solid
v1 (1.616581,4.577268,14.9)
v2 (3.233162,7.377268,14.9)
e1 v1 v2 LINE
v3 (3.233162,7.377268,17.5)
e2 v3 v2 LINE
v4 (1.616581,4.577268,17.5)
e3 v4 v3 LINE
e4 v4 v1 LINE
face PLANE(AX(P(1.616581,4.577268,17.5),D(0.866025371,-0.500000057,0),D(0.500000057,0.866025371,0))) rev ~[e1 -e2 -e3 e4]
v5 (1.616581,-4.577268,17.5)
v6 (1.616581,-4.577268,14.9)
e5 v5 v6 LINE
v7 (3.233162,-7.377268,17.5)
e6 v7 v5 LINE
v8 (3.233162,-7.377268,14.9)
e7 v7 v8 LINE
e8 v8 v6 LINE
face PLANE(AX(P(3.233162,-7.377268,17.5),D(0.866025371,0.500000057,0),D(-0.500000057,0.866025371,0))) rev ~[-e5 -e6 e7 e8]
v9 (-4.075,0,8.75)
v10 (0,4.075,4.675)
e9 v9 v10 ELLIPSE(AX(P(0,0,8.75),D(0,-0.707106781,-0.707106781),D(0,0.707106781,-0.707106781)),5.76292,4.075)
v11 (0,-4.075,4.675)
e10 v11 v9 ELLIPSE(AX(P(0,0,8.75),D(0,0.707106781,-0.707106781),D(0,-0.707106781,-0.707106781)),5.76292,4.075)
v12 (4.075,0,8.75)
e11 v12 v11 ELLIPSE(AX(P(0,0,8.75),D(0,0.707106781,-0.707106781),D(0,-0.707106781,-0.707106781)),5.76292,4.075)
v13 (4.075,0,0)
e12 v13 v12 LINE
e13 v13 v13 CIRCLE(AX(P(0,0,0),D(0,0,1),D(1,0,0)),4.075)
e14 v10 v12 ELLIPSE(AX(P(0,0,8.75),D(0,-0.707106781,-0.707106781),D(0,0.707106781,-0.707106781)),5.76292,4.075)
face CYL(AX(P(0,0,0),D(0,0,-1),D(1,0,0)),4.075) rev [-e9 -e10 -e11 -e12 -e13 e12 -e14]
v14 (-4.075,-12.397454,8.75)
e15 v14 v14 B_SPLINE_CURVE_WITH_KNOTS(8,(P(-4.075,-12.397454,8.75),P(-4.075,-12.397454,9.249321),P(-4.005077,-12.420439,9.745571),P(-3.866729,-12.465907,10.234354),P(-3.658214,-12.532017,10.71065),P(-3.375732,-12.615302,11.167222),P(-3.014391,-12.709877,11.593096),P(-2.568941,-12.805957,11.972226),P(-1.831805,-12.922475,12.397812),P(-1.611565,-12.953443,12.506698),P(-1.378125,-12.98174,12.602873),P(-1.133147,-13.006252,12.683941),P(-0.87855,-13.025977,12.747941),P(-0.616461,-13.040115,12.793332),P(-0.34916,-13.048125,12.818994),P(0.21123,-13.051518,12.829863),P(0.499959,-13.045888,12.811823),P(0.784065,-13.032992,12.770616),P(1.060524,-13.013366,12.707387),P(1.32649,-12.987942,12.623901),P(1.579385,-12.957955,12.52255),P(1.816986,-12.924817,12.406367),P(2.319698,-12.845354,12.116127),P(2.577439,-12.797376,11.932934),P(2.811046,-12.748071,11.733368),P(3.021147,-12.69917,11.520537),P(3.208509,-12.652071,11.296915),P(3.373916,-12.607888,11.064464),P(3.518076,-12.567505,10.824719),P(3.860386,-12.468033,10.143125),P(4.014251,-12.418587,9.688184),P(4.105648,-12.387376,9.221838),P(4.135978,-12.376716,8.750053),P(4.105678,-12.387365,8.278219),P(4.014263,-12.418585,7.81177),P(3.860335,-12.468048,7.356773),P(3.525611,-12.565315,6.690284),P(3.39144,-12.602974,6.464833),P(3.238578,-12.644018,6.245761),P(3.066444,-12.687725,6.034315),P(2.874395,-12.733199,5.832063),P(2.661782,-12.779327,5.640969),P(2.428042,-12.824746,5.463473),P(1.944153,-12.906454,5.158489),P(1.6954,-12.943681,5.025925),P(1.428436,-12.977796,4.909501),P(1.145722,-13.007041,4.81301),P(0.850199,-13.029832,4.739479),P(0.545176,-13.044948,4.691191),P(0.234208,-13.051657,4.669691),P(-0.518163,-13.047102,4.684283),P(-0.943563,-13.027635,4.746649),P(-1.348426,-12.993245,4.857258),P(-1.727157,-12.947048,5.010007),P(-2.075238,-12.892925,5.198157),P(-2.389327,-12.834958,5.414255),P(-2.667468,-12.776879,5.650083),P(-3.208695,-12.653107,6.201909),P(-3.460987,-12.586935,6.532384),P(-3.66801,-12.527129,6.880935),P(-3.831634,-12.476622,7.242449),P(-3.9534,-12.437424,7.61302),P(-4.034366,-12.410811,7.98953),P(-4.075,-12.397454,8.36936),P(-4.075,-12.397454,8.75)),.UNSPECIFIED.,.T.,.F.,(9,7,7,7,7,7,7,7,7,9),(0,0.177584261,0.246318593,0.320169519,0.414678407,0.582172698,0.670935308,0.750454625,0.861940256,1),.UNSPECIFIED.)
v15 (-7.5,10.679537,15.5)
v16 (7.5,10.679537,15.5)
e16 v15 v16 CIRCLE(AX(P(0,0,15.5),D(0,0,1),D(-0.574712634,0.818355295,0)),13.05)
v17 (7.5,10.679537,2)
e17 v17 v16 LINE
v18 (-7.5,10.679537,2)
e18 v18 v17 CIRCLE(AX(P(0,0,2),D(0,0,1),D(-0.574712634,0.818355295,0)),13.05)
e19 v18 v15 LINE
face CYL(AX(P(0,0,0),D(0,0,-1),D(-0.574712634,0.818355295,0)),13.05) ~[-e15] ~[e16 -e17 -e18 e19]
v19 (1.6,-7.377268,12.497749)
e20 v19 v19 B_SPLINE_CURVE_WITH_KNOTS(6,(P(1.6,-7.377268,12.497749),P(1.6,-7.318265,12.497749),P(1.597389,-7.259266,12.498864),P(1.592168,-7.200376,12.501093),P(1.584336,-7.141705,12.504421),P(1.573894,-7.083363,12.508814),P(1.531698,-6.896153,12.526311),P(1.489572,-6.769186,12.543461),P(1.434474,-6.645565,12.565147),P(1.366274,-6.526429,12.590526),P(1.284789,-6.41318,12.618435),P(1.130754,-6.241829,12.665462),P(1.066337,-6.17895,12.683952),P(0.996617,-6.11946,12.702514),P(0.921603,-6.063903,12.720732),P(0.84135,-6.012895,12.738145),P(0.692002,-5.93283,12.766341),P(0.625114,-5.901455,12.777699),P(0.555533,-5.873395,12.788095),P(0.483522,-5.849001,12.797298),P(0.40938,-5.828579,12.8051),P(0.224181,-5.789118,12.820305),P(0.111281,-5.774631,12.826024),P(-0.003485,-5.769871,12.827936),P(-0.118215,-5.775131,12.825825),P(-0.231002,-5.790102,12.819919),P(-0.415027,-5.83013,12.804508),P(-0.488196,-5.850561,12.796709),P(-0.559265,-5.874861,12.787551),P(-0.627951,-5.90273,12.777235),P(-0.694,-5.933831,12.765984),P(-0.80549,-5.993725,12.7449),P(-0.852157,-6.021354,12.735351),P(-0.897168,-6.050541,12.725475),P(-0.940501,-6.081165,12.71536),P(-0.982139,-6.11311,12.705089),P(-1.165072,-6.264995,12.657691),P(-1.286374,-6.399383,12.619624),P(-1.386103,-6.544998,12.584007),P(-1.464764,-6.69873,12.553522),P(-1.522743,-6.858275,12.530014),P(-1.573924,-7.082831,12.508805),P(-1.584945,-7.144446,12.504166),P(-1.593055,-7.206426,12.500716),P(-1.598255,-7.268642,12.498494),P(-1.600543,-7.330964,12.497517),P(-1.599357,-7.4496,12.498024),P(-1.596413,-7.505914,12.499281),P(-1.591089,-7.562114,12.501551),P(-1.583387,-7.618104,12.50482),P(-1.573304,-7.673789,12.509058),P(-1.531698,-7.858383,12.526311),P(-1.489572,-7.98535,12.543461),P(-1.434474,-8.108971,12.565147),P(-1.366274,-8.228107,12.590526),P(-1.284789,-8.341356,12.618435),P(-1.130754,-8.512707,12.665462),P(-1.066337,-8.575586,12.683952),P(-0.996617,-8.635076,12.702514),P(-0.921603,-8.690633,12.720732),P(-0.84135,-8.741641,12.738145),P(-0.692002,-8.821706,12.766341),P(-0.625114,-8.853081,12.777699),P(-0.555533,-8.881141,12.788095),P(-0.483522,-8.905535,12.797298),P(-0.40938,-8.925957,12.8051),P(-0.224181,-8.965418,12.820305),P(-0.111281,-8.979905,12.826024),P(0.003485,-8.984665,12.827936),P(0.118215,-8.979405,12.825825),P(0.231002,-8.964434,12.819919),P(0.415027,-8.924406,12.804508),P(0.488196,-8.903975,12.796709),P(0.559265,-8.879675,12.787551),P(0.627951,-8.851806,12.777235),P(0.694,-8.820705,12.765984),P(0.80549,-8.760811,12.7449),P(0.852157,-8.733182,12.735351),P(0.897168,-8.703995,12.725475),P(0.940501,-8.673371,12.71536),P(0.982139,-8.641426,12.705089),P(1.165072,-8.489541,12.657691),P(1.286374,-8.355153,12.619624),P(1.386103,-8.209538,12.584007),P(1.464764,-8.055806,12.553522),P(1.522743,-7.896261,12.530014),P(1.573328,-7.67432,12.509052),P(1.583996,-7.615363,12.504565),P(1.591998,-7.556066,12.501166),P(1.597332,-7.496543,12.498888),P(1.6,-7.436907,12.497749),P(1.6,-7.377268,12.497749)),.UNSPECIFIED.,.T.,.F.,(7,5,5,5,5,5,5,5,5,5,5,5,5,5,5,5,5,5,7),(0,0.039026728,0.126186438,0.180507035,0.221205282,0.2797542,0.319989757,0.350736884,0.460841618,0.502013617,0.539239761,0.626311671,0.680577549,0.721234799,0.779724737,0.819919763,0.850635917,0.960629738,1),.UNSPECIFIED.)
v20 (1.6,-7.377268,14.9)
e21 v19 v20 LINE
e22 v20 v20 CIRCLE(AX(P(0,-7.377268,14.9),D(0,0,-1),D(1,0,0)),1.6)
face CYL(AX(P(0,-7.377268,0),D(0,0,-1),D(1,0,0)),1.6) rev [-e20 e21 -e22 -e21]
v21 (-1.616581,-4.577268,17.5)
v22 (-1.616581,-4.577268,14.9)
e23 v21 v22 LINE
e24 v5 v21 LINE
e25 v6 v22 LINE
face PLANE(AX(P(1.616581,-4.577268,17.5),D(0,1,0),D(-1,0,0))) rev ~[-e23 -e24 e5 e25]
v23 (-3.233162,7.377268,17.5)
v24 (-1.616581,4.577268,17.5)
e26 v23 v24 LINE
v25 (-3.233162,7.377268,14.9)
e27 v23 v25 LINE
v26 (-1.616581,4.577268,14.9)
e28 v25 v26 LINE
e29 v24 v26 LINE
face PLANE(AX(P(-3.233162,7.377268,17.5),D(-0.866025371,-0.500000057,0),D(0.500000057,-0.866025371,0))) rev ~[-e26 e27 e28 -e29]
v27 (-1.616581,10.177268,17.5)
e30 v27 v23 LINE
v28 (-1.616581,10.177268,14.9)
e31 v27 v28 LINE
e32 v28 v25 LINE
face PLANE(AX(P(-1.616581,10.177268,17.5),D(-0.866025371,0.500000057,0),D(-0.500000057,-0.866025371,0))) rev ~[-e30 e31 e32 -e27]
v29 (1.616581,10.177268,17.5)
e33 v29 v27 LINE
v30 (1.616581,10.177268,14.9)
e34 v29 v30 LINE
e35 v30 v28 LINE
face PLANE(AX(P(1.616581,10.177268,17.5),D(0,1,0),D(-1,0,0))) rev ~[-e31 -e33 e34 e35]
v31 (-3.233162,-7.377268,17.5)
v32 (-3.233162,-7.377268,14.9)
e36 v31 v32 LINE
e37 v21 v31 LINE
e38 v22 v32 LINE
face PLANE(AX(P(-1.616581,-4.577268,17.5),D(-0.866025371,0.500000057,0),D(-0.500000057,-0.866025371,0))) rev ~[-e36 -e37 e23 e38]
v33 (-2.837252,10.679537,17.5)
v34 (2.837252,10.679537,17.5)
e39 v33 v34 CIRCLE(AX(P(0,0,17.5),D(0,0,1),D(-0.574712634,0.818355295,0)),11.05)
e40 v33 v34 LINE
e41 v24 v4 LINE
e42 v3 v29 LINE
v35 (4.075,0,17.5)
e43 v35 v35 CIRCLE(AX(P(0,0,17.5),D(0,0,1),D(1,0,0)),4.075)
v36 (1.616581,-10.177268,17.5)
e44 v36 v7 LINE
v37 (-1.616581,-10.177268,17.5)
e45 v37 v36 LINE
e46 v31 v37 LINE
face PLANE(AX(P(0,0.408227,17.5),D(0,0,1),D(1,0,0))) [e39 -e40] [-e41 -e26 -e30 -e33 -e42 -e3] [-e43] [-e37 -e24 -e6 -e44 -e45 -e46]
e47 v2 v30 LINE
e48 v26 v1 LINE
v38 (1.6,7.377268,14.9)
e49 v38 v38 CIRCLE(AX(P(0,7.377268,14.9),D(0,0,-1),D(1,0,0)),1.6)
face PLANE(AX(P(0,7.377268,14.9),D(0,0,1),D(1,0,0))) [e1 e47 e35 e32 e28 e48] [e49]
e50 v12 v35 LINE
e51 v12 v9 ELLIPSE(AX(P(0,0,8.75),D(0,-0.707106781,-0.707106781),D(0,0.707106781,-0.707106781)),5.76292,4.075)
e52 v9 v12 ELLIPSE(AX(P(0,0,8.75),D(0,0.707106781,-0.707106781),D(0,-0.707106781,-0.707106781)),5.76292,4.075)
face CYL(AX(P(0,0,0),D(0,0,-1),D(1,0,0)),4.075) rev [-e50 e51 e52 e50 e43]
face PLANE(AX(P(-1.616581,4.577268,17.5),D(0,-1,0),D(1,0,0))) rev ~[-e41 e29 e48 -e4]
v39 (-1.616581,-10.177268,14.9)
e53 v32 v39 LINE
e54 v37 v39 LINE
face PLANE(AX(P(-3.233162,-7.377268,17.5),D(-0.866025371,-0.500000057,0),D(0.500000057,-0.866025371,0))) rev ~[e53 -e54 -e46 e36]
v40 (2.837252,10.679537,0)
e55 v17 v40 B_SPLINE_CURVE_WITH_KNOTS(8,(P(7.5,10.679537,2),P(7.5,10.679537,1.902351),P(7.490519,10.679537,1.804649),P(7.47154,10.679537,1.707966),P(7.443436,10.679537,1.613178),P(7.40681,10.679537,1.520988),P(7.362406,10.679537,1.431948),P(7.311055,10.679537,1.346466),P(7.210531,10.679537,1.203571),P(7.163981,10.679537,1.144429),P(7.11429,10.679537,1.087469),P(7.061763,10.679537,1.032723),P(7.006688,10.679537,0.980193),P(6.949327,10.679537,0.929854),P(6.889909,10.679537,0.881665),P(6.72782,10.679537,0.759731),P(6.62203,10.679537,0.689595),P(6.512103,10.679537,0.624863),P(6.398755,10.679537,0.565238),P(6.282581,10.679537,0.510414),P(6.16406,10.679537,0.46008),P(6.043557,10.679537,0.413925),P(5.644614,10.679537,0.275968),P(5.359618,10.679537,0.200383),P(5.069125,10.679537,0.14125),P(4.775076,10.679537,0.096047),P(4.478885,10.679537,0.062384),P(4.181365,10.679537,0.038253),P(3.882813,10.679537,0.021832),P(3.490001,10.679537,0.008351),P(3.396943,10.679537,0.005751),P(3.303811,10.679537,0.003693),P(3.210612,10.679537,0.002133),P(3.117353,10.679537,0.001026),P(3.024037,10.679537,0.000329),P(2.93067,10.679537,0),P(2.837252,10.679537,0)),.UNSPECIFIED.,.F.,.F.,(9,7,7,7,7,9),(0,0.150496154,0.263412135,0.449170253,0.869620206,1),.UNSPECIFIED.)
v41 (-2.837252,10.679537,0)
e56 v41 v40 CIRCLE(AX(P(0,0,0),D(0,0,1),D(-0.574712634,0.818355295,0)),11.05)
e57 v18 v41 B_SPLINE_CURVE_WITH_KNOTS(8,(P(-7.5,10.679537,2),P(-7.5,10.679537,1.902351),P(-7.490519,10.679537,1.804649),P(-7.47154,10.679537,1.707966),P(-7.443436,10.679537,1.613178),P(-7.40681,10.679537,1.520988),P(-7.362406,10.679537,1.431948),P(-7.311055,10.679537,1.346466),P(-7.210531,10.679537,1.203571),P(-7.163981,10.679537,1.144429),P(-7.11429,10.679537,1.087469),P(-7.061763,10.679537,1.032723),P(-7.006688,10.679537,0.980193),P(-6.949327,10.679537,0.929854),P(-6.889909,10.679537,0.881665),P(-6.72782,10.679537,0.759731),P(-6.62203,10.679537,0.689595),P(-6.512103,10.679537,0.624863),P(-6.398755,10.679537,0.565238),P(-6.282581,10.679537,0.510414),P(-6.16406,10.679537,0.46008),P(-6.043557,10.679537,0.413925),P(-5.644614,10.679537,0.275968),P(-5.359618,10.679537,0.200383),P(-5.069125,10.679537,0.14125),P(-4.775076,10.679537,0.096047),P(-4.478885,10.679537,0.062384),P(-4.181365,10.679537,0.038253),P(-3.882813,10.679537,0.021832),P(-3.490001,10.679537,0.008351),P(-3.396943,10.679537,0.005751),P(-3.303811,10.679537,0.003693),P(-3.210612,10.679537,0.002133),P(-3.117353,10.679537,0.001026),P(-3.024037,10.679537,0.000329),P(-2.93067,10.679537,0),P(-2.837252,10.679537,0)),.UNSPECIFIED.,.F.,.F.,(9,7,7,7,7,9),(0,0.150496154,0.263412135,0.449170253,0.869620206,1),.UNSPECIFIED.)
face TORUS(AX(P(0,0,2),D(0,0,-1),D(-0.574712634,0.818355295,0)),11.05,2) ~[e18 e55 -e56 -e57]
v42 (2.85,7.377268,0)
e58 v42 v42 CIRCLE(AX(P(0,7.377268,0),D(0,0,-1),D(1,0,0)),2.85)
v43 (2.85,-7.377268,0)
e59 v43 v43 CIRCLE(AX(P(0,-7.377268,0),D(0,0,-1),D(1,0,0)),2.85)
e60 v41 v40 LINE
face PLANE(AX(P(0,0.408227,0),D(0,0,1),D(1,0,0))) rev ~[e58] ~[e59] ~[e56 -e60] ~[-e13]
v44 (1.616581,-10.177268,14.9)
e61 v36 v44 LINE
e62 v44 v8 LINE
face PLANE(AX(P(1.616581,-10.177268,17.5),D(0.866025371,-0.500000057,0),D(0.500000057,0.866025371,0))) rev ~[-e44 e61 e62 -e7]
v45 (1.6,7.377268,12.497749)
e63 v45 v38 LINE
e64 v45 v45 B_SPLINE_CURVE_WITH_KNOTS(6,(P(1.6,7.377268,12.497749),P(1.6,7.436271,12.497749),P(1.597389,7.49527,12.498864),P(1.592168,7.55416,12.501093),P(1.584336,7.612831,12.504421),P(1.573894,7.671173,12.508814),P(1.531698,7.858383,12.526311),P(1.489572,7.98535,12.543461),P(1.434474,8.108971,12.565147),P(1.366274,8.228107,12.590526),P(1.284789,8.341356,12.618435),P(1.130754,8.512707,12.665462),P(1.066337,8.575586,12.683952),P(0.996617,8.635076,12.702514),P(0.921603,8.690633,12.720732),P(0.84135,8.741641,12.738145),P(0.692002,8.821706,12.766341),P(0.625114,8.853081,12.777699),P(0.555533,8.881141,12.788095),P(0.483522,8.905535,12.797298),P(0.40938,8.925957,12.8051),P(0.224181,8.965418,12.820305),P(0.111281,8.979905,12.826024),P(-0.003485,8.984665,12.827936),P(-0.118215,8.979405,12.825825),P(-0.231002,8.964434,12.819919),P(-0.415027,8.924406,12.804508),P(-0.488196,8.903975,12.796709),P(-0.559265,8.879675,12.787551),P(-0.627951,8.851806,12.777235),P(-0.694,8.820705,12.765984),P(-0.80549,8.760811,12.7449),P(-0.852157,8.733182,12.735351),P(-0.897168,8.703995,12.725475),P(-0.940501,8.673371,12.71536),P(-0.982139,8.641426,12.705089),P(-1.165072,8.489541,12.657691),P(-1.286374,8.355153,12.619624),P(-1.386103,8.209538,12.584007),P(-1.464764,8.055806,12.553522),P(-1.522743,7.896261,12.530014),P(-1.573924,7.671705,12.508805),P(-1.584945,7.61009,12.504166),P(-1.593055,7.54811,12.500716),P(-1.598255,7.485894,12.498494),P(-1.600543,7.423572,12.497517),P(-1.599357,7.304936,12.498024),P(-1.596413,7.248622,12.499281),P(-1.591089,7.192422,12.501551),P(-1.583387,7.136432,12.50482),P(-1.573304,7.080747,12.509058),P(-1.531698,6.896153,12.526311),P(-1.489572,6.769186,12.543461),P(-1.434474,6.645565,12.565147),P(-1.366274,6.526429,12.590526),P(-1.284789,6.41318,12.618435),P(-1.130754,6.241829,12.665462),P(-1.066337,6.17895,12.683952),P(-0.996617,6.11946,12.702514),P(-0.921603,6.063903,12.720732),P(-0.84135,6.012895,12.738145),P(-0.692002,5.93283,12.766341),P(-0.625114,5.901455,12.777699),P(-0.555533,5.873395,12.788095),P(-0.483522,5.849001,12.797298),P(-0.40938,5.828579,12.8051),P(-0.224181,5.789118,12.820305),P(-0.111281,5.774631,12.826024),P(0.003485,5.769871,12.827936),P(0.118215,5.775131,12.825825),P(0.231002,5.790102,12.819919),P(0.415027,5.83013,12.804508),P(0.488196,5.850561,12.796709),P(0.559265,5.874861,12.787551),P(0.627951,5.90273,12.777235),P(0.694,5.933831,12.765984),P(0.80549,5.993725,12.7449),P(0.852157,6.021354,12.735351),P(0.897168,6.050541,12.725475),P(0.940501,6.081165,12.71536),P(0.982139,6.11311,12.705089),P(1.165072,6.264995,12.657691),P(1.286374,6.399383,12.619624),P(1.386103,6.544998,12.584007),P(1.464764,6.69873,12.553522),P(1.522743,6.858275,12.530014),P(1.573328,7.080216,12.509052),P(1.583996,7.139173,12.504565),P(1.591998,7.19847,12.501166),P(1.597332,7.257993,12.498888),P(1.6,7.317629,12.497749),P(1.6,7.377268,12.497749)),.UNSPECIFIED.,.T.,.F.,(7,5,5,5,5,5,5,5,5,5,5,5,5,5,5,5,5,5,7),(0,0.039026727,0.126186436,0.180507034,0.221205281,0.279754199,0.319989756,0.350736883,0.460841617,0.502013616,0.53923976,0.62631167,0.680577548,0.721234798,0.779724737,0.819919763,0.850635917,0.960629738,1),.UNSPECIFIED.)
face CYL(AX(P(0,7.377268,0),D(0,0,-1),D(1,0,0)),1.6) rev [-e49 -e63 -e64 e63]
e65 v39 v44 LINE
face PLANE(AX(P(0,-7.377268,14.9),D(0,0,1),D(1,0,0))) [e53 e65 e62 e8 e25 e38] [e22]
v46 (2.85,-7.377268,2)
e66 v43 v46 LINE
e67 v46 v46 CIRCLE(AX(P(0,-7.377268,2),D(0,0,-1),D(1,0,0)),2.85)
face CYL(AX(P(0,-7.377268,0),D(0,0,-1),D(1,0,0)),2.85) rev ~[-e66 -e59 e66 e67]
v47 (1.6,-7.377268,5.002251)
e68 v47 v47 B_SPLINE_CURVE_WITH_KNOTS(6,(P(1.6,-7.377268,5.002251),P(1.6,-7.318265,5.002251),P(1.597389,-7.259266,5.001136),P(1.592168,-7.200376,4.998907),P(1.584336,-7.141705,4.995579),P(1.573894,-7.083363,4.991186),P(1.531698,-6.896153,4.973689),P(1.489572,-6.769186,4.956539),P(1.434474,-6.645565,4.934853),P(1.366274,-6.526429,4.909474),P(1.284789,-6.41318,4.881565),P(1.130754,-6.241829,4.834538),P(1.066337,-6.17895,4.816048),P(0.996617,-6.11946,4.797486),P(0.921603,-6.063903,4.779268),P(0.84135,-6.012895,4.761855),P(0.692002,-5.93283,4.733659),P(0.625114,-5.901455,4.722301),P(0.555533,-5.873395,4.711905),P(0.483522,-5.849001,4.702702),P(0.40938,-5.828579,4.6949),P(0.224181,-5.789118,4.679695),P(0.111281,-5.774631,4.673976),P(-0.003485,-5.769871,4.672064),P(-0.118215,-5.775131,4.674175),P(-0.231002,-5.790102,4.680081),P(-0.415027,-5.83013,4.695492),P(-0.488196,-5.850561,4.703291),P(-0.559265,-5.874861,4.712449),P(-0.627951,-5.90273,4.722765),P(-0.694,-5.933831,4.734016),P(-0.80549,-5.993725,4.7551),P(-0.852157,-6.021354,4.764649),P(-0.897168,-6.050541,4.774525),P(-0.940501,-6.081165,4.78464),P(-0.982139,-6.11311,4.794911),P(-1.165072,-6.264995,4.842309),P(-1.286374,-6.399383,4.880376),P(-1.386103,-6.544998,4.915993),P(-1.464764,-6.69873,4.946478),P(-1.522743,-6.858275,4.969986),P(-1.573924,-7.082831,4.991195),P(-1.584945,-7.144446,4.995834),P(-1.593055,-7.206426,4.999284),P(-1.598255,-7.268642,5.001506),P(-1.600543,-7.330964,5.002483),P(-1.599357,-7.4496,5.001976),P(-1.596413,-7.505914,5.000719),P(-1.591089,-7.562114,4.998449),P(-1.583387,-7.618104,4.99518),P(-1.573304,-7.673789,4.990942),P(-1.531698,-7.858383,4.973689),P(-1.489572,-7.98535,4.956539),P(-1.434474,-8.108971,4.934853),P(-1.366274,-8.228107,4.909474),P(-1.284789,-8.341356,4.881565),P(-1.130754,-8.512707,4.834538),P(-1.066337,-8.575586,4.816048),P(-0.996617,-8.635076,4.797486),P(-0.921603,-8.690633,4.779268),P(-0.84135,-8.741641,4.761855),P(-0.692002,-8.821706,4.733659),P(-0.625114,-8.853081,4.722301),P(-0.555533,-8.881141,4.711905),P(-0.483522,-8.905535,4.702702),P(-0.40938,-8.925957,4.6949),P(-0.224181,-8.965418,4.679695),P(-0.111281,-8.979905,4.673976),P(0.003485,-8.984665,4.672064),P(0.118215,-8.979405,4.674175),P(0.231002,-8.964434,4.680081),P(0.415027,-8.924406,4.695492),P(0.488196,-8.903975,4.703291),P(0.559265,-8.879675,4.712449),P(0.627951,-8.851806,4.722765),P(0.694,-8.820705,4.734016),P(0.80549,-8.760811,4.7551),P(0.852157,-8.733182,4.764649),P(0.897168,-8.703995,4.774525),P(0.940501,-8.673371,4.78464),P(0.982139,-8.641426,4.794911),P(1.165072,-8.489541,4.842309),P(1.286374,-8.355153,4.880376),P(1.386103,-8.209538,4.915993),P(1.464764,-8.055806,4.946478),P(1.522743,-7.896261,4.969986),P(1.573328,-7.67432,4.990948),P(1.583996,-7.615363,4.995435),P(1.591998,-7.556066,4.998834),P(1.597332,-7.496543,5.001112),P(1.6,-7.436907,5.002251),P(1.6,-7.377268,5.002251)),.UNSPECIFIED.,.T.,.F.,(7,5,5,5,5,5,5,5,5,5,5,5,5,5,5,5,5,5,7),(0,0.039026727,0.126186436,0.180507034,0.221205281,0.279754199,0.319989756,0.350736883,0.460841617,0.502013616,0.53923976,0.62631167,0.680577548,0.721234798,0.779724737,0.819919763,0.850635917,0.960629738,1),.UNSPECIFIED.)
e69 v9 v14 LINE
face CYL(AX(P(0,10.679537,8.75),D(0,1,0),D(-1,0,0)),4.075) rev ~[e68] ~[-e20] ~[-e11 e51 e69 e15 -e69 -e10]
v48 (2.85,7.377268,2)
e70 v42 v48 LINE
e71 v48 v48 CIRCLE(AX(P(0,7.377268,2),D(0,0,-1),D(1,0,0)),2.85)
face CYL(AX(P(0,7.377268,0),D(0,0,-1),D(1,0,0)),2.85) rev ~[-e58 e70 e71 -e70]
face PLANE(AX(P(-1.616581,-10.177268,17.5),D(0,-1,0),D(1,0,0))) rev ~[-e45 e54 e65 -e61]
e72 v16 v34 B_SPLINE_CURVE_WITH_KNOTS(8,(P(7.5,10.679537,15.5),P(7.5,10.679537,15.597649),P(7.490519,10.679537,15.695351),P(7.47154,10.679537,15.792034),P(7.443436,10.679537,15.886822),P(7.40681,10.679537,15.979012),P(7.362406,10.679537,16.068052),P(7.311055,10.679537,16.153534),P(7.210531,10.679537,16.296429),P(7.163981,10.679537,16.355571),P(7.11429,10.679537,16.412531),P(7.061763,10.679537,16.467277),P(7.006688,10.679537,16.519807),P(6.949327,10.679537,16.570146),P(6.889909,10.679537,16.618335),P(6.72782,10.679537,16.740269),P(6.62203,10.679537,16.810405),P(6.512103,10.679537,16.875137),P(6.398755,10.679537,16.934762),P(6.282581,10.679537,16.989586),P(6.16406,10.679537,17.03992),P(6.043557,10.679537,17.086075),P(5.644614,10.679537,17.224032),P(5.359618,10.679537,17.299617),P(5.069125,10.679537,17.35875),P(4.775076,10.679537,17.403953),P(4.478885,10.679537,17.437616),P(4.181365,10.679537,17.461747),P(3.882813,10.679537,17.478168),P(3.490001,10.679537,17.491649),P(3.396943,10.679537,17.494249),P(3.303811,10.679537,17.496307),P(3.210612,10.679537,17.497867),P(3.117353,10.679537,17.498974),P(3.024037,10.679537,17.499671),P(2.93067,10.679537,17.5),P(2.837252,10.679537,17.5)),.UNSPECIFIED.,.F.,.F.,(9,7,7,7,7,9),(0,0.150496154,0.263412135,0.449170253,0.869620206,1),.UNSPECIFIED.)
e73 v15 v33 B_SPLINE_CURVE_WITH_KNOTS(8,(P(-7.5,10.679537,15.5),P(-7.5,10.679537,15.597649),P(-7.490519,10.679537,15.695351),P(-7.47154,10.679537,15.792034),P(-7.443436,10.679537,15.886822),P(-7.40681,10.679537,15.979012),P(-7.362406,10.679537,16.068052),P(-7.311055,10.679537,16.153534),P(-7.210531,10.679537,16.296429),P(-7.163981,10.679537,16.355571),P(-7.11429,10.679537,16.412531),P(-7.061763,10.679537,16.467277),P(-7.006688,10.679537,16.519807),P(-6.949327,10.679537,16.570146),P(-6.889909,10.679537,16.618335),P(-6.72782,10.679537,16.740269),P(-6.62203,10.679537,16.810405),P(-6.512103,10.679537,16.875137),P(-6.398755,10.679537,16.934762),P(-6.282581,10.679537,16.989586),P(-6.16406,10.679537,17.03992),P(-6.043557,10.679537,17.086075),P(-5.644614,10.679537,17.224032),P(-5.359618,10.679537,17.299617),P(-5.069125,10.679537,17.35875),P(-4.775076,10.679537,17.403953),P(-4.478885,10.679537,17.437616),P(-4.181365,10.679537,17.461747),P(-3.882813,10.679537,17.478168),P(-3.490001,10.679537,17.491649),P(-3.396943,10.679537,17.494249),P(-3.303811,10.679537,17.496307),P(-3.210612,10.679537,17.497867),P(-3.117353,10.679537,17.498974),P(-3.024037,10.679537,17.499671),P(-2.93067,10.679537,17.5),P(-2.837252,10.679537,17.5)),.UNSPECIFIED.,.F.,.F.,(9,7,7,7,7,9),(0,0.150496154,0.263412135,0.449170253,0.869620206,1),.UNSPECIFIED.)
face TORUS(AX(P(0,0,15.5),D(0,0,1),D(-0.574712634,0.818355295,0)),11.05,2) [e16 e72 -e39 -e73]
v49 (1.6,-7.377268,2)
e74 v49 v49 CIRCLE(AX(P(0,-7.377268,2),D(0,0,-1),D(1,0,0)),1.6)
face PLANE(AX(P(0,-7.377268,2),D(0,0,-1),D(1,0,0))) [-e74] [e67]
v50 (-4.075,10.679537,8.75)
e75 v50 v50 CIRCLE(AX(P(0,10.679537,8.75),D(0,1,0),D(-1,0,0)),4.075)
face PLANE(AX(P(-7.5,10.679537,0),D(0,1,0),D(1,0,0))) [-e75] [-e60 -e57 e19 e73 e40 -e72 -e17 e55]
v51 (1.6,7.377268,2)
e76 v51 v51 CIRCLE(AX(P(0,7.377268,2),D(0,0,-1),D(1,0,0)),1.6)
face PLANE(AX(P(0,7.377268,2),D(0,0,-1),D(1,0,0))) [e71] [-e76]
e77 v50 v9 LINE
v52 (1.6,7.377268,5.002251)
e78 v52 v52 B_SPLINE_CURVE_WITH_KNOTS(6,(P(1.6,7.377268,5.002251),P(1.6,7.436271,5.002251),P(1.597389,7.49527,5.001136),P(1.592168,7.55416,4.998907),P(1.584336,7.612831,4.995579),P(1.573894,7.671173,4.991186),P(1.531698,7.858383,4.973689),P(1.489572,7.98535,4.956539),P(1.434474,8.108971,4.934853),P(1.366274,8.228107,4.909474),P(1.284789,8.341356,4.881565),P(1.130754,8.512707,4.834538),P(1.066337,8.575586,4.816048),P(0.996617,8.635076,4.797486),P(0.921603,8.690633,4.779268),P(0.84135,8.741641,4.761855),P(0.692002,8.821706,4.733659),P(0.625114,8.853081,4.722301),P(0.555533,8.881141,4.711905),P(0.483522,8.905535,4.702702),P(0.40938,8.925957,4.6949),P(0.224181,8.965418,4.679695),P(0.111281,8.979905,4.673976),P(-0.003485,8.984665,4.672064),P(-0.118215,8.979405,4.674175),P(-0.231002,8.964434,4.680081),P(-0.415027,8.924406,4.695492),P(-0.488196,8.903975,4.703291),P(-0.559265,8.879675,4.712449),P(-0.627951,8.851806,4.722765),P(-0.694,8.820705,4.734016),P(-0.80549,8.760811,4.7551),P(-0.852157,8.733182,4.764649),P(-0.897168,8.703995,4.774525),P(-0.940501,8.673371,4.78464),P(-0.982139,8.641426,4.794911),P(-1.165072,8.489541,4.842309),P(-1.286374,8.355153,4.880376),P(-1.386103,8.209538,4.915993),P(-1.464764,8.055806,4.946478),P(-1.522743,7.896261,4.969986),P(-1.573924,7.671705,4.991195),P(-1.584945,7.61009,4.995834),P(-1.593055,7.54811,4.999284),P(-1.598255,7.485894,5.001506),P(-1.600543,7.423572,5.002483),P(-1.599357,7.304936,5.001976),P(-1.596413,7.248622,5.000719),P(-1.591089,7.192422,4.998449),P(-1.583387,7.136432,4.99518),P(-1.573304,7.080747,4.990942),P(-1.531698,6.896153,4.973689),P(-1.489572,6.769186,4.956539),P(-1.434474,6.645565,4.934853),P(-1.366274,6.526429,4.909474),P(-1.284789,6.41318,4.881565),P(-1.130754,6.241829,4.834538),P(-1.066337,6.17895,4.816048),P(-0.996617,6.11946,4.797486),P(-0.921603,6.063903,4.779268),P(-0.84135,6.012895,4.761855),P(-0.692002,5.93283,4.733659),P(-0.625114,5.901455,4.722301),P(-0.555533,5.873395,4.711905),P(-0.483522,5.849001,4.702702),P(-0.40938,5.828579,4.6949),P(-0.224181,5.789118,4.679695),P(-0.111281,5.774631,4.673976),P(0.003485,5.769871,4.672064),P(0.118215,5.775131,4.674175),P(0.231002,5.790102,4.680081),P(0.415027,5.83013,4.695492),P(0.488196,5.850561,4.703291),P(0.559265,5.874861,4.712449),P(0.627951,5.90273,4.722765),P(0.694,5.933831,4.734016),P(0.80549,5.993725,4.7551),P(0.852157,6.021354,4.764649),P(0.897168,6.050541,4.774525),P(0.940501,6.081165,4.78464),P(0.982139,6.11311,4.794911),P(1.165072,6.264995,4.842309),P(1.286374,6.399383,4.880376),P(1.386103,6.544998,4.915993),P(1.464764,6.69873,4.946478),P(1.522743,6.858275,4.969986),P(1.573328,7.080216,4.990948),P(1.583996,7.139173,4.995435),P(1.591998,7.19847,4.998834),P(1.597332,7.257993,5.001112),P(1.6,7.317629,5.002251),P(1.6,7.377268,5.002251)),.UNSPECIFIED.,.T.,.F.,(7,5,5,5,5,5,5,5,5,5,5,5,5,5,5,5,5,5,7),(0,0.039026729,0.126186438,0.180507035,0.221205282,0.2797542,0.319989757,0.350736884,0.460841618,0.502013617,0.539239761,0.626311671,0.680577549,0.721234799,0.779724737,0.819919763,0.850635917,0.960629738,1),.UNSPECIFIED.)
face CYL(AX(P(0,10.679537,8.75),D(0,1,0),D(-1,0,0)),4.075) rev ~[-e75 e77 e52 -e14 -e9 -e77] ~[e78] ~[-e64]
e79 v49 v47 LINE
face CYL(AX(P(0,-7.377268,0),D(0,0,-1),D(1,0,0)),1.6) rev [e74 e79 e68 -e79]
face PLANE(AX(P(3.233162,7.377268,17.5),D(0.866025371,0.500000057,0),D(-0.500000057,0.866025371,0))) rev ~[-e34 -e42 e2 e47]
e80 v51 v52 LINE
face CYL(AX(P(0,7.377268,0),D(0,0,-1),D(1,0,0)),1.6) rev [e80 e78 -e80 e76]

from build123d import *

# Parameters (mm, degrees)
SKETCH_R        = 1.6
SKETCH_R_2      = 4.075
PAD_DEPTH       = 17.5
SKETCH001_R     = 4.075
POCKET_DEPTH    = 23.730537
SKETCH002_R     = 2.85
POCKET001_DEPTH = 2
POCKET002_DEPTH = 2.6
FILLET_R        = 2


with BuildPart() as part:
    # Sketch → Pad (new body)
    with BuildSketch(Plane.XY):
        with BuildLine():
            ThreePointArc((-7.5, 10.679537), (0, -13.05), (7.5, 10.679537))
            Line((-7.5, 10.679537), (7.5, 10.679537))
        make_face()
        with Locations((0, 7.377268)):
            Circle(SKETCH_R, mode=Mode.SUBTRACT)
        with Locations((0, -7.377268)):
            Circle(SKETCH_R, mode=Mode.SUBTRACT)
        Circle(SKETCH_R_2, mode=Mode.SUBTRACT)
    extrude(amount=PAD_DEPTH)

    # Sketch001 (on Face2 of Pad) → Pocket (cut, through all)
    with BuildSketch(Plane(origin=(0, 10.679537, 0), x_dir=(-1, 0, 0), z_dir=(0, 1, 0))):
        with Locations((0, 8.75)):
            Circle(SKETCH001_R)
    extrude(amount=-POCKET_DEPTH, mode=Mode.SUBTRACT)

    # Sketch002 (on Face3 of Pocket) → Pocket001 (cut)
    with BuildSketch(Plane(origin=(0, 0, 0), x_dir=(1, 0, 0), z_dir=(0, 0, -1))):
        with Locations((0, 7.377268)):
            Circle(SKETCH002_R)
        with Locations((0, -7.377268)):
            Circle(SKETCH002_R)
    extrude(amount=-POCKET001_DEPTH, mode=Mode.SUBTRACT)

    # Sketch003 (on Face4 of Pocket001) → Pocket002 (cut)
    with BuildSketch(Plane.XY.offset(17.5)):
        Polygon((1.616581, 10.177268), (-1.616581, 10.177268), (-3.233162, 7.377268), (-1.616581, 4.577268), (1.616581, 4.577268), (3.233162, 7.377268), align=None)
        Polygon((3.233162, -7.377268), (1.616581, -4.577268), (-1.616581, -4.577268), (-3.233162, -7.377268), (-1.616581, -10.177268), (1.616581, -10.177268), align=None)
    extrude(amount=-POCKET002_DEPTH, mode=Mode.SUBTRACT)

    # Fillet
    fillet_edges = [part.edges().sort_by_distance(p)[0] for p in [
        (0, -13.05, 0),
        (0, -13.05, 17.5),
    ]]
    fillet(fillet_edges, radius=FILLET_R)


solid = part.part
